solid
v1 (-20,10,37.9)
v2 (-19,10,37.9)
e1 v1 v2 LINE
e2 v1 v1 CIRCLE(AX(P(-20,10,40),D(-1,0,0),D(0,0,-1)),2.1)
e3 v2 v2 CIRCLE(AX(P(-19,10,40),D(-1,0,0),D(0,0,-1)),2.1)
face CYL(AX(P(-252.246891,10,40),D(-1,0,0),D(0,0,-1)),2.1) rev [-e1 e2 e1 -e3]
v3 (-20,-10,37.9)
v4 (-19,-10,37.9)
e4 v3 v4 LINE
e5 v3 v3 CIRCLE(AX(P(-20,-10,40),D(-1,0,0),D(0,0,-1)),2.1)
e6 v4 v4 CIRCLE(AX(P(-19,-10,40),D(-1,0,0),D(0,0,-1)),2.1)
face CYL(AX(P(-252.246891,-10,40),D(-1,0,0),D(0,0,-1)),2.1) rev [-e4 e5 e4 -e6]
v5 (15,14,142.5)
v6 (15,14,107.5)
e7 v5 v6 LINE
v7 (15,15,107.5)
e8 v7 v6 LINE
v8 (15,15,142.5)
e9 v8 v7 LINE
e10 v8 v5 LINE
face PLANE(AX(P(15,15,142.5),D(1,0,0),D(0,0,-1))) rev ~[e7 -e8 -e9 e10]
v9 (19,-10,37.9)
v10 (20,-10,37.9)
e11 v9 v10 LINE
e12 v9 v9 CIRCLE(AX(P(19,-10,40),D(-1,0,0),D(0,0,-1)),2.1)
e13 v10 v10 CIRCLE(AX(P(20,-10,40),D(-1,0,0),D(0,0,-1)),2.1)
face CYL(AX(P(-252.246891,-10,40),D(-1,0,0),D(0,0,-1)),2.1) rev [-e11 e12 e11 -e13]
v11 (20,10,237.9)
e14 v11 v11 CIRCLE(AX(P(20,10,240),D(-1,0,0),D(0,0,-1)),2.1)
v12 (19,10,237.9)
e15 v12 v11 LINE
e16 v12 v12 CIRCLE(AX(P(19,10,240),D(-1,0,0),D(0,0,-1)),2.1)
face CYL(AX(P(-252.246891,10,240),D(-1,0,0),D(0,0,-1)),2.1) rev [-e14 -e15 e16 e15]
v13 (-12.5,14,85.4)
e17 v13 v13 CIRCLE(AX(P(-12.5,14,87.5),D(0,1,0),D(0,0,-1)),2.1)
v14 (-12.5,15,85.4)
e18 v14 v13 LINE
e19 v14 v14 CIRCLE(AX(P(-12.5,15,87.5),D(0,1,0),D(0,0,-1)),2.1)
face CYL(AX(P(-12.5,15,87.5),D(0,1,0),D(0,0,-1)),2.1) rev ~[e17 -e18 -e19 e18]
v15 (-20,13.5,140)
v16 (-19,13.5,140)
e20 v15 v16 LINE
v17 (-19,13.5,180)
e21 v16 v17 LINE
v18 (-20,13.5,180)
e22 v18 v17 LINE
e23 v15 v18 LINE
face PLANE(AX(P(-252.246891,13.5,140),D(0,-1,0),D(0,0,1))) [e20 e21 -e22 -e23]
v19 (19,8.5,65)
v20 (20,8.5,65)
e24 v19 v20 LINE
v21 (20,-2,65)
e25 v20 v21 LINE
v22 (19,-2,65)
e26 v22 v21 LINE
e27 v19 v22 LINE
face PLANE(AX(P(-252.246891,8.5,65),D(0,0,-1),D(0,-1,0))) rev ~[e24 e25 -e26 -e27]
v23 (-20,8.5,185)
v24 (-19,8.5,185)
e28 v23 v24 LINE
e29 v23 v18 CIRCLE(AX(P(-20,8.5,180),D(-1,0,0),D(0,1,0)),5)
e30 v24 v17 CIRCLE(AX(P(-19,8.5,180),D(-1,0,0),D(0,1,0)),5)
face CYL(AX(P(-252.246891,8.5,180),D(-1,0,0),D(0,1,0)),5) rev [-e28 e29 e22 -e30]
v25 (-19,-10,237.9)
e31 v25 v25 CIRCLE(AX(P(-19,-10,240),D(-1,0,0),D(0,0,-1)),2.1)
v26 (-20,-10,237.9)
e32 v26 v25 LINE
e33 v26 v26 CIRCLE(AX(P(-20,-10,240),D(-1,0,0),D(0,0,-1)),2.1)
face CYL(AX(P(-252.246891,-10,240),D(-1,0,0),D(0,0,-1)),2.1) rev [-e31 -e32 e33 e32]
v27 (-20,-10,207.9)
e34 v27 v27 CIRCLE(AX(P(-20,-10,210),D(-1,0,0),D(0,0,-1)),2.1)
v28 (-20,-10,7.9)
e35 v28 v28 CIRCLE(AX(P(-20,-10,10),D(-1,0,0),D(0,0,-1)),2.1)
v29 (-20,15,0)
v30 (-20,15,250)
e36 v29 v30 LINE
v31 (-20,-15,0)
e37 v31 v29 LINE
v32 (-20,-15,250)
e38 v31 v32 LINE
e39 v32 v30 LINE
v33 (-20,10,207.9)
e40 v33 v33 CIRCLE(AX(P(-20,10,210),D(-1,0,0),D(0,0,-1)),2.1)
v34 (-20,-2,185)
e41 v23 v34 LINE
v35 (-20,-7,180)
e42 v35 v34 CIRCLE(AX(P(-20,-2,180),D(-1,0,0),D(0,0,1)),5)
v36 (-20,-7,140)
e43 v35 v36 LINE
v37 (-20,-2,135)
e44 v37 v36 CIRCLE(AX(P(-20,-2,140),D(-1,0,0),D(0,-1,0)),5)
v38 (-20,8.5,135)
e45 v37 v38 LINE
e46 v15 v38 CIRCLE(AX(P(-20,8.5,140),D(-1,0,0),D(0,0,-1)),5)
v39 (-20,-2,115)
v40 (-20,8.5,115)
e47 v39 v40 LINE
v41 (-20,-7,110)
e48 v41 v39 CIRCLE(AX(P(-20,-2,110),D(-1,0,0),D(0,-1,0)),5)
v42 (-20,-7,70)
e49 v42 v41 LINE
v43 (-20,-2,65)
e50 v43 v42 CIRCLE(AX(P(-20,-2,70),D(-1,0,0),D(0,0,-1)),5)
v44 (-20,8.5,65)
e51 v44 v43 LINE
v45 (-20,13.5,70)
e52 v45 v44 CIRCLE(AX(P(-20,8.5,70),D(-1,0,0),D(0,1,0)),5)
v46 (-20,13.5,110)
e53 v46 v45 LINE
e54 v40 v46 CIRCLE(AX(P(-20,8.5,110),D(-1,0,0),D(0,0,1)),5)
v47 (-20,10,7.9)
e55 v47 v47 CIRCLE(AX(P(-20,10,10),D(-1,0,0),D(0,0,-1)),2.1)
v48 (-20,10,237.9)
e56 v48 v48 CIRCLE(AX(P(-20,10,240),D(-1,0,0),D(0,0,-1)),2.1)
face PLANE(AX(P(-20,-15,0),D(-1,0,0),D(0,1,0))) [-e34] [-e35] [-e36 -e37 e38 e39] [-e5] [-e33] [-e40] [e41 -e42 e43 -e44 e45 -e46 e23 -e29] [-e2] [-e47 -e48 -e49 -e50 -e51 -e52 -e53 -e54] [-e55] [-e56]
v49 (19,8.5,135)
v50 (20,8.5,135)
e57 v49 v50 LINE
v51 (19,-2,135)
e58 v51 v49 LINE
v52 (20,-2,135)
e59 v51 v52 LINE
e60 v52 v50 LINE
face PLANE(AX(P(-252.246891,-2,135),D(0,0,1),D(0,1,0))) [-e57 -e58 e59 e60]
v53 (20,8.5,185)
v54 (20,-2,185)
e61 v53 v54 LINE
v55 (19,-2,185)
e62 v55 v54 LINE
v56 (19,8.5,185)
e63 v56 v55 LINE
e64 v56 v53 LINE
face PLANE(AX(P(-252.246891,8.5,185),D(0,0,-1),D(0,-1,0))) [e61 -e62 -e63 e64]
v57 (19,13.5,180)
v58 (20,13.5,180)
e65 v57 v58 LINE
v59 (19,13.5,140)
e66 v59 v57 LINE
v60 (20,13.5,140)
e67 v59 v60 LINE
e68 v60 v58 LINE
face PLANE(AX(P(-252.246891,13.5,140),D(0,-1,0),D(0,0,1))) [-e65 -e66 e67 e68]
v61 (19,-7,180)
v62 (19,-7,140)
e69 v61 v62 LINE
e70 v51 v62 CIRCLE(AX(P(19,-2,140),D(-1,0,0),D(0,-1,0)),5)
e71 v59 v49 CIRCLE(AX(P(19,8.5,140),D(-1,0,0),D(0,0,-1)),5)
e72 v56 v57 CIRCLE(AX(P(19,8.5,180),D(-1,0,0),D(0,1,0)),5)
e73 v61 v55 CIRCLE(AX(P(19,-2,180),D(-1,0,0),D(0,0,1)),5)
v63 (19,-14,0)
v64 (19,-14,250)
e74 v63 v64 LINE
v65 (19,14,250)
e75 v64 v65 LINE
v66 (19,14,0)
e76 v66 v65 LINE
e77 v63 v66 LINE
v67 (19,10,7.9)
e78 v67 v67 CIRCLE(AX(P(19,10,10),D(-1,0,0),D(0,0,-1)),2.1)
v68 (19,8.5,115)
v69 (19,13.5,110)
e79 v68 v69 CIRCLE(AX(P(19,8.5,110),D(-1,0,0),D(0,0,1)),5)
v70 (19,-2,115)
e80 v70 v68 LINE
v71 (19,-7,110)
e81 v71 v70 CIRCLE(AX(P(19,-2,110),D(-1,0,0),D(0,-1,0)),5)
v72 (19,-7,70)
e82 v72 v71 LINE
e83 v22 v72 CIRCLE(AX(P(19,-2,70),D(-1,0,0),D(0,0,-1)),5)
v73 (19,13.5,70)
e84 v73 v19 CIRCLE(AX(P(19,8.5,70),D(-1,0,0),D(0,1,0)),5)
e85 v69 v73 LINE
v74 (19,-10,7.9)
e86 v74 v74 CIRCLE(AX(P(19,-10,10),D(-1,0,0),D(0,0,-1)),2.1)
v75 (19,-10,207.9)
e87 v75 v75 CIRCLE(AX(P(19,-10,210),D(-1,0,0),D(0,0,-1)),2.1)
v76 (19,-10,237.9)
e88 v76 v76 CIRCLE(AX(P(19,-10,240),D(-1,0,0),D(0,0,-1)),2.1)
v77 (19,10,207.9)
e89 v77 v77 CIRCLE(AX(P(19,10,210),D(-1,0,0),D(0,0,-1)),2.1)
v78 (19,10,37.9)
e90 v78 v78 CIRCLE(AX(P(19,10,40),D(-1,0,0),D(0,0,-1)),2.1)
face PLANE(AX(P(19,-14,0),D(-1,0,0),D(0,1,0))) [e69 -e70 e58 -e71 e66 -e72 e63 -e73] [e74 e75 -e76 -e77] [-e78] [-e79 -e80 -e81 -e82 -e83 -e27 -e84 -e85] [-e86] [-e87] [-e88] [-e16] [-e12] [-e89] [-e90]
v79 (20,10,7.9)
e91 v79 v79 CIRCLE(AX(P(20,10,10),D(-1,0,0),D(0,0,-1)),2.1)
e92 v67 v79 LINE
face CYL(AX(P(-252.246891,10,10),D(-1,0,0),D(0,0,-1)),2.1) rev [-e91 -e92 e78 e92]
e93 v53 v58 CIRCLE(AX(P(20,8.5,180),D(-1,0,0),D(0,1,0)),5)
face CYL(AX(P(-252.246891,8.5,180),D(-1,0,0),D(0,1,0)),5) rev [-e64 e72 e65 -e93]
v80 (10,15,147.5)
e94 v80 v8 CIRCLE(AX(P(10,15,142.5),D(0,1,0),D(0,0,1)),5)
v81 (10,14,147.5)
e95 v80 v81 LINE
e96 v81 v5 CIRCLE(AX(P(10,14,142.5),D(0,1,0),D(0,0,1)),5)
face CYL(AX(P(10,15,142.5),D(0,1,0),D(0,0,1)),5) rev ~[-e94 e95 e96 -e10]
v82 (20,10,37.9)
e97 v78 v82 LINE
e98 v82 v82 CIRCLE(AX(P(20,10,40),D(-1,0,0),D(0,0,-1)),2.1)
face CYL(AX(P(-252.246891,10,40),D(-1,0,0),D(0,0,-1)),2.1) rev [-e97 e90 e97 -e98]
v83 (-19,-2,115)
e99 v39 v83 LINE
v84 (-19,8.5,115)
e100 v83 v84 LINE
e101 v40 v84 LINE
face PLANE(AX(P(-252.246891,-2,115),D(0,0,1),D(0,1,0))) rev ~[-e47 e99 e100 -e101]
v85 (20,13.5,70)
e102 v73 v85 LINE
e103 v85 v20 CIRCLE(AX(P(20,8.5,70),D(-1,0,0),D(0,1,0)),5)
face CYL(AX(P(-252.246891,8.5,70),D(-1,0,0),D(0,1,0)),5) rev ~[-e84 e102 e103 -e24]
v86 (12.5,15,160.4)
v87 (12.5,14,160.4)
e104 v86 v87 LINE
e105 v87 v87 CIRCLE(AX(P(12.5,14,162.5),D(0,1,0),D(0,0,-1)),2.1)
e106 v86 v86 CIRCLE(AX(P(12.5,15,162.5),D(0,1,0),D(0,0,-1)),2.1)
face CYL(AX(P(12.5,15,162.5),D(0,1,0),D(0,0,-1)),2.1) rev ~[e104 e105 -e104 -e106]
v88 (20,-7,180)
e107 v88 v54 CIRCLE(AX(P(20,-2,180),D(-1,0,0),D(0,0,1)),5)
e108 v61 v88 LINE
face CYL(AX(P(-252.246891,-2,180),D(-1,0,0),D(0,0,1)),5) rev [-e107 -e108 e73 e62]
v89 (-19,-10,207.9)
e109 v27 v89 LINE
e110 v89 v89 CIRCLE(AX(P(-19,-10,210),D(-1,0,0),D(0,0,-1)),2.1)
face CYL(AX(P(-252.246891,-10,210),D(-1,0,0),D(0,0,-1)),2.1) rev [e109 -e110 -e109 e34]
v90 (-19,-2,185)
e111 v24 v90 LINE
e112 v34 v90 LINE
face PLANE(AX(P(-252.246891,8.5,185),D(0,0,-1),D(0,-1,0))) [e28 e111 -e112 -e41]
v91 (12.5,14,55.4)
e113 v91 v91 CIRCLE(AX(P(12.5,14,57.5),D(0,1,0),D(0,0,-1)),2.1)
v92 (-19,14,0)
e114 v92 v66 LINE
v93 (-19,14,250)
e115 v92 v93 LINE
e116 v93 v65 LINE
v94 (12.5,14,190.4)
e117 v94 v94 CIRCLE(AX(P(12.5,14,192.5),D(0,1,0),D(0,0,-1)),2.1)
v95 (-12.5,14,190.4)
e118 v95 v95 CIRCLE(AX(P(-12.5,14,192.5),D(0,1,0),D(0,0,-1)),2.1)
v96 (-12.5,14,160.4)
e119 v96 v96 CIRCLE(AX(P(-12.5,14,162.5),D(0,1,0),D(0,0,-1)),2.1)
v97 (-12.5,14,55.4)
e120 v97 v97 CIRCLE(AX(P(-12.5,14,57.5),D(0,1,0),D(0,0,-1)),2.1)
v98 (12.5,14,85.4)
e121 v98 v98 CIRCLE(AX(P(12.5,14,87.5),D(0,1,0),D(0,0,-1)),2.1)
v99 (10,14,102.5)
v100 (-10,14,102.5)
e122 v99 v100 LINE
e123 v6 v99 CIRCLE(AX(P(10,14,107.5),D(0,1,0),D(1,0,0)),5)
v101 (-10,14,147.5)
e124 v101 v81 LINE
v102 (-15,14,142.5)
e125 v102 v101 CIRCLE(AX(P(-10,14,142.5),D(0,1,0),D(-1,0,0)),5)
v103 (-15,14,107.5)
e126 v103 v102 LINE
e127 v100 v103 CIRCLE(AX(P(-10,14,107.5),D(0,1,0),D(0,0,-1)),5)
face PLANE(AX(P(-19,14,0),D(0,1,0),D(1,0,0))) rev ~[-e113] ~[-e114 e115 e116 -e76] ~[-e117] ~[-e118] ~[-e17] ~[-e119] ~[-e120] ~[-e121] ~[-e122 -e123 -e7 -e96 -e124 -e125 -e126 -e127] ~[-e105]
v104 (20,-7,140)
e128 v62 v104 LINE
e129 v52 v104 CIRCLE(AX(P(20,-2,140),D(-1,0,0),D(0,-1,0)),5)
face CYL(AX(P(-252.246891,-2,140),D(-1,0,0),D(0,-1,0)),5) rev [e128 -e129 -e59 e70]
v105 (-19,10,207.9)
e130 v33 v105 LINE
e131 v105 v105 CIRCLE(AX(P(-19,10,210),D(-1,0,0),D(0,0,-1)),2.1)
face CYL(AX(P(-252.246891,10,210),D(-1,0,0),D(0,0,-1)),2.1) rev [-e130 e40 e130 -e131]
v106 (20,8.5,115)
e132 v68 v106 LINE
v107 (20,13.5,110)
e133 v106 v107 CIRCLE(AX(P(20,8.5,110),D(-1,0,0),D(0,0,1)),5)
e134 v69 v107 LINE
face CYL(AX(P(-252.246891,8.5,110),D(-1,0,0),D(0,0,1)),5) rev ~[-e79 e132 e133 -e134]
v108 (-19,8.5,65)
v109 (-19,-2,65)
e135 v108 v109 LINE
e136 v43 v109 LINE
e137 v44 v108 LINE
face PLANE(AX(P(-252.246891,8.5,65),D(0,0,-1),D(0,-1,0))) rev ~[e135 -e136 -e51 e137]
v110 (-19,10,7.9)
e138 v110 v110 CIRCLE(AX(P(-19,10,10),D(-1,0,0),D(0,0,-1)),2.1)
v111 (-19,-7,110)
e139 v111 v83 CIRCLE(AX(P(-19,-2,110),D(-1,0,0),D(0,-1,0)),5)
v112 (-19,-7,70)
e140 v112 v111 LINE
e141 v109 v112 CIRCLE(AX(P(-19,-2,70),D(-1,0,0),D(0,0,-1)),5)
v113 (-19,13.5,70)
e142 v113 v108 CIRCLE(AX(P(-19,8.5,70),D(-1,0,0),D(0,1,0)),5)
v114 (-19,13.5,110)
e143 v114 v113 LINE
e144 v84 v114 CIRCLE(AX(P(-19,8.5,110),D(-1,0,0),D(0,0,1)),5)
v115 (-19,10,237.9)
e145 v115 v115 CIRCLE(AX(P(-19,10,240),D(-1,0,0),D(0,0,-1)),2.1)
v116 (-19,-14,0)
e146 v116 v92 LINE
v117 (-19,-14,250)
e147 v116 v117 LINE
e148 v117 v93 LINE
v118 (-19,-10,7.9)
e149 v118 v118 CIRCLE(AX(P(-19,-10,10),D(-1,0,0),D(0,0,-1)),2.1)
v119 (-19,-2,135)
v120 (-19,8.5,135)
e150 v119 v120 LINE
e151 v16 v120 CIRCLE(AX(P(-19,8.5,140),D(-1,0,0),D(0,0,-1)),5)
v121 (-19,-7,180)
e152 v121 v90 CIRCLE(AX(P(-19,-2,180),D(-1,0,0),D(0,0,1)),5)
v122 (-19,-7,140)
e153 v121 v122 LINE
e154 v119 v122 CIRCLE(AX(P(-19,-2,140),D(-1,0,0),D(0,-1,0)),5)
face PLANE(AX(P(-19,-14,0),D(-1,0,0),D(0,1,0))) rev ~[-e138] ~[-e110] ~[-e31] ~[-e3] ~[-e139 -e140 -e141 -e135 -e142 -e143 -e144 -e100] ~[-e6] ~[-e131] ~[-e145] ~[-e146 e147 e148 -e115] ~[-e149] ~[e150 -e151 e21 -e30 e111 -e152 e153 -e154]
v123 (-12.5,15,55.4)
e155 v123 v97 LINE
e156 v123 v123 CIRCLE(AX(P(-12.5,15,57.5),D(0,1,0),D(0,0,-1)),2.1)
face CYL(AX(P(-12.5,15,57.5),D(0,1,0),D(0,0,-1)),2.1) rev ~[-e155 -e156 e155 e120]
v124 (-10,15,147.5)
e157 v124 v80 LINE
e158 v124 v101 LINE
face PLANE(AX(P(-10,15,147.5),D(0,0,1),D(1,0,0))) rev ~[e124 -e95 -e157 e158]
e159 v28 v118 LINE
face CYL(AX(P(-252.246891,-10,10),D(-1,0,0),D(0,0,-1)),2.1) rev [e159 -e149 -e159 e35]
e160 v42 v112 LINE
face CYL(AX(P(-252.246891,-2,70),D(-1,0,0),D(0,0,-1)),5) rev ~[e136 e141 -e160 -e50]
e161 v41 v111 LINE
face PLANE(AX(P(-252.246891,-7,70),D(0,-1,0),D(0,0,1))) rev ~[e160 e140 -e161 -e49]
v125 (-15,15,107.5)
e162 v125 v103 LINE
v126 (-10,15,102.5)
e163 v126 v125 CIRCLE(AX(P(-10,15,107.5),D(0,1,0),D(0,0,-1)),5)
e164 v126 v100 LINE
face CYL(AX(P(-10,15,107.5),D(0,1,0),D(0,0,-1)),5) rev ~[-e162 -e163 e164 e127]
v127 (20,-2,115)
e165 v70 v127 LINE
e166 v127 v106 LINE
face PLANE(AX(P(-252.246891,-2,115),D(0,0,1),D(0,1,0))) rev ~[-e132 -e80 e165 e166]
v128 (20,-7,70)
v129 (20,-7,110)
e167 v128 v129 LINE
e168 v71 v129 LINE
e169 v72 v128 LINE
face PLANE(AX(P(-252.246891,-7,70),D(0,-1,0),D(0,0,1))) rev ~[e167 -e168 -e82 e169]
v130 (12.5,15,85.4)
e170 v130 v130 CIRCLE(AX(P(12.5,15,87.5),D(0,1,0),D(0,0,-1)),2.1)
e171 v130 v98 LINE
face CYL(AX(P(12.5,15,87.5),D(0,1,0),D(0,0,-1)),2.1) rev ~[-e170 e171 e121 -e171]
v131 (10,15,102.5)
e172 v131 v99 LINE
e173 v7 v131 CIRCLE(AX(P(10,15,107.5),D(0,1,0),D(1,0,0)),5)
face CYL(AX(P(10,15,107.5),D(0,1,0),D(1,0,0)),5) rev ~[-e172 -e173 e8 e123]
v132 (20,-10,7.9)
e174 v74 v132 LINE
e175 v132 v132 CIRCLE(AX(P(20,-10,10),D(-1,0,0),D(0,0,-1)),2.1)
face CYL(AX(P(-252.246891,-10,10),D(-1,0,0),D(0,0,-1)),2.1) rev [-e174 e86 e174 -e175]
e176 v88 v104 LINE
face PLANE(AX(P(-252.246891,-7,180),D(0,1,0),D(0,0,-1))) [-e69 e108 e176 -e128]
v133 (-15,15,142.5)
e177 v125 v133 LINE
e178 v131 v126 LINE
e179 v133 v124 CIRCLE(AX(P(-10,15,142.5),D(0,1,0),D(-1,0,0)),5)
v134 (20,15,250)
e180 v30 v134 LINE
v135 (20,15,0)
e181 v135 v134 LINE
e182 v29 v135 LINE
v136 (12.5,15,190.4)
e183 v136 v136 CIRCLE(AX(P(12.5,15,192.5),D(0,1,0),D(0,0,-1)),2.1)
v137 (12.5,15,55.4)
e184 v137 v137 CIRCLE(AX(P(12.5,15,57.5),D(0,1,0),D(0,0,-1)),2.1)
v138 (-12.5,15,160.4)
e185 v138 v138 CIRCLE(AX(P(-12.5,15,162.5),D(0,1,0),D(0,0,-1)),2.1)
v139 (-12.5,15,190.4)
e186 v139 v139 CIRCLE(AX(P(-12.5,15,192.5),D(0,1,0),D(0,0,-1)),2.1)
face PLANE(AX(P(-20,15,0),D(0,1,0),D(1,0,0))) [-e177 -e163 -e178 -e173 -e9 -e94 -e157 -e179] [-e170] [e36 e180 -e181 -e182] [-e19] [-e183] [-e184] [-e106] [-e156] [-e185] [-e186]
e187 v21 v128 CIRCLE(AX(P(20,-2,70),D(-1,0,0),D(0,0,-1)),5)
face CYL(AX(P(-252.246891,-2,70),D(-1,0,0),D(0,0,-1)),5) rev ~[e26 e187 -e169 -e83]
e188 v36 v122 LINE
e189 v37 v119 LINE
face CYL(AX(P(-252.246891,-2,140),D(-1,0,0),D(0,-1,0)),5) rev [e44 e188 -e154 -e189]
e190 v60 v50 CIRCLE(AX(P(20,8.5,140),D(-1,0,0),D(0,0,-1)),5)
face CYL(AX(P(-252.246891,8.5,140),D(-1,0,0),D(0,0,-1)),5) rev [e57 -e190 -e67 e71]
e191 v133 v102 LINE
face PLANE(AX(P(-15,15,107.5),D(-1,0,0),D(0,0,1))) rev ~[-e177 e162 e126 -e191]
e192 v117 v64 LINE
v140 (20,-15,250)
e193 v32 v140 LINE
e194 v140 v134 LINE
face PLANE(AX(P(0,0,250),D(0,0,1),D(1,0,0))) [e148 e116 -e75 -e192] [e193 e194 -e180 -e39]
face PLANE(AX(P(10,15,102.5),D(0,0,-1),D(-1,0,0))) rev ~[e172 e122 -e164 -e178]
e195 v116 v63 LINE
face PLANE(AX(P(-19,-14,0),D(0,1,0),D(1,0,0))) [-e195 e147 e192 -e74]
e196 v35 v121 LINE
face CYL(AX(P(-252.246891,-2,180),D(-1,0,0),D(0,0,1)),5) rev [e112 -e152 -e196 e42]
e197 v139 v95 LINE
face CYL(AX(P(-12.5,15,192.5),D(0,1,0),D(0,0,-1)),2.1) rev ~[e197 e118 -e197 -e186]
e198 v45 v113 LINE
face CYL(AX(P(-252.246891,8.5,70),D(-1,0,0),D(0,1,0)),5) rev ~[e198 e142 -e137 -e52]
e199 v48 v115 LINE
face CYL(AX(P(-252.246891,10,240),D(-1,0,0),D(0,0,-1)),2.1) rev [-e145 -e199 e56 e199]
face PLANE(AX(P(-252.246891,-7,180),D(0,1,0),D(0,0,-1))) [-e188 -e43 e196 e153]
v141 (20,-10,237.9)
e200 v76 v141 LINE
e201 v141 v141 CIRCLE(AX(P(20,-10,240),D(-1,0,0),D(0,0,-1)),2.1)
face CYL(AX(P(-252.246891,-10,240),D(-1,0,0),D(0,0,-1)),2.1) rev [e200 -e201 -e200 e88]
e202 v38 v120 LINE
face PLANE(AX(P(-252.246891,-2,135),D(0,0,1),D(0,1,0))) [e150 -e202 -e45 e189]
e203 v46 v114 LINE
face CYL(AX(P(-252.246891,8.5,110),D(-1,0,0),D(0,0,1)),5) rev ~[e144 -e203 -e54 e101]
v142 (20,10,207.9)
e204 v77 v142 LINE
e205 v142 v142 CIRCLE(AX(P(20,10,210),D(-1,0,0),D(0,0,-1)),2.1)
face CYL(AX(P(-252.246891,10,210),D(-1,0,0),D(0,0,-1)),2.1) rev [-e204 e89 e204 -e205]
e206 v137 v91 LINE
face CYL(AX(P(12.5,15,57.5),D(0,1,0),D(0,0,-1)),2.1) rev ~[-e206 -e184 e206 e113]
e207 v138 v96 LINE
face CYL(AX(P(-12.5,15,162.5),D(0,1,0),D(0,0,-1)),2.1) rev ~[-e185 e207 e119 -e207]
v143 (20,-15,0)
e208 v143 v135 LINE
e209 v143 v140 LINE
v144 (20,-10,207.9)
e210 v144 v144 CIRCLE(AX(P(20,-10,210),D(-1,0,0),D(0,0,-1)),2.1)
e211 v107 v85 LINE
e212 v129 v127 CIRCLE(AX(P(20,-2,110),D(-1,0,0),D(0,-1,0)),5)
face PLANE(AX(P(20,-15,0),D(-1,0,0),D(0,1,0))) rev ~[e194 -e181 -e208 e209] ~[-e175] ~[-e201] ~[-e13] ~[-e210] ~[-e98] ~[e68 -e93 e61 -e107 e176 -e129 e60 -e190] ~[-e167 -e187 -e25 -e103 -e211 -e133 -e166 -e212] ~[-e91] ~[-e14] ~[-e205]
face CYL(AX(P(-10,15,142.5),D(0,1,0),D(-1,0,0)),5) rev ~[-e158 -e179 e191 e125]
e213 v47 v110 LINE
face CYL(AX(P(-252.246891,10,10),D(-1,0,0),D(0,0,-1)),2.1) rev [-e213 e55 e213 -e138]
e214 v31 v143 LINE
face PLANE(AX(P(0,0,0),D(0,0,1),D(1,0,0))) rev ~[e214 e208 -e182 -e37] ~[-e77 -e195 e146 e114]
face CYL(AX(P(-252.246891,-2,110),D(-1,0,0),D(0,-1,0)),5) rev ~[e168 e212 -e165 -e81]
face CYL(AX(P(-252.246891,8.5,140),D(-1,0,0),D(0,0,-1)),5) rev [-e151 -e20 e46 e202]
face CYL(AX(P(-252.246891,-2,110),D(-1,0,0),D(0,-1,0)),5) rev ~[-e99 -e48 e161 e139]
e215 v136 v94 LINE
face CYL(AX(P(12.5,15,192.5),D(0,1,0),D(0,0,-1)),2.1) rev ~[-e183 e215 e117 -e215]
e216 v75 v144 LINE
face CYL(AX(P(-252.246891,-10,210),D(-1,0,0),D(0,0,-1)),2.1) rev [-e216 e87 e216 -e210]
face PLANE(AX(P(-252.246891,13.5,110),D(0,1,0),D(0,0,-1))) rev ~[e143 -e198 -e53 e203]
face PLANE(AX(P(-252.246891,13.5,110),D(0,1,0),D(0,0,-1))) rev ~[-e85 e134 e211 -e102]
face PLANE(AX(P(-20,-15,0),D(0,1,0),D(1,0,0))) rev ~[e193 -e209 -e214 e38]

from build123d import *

# Parameters (mm, degrees)
SKETCH_1_W               = 40
SKETCH_1_H               = 30
SKETCH_1_W_2             = 38
SKETCH_1_H_2             = 28
EXTRUDE_1_DEPTH          = 250
CUT_EXTRUDE_1_DEPTH      = 252.246890528
CUT_EXTRUDE_1_DEPTH_BACK = 252.246890528
SKETCH_2_R               = 2.1
CUT_EXTRUDE_START        = 15
SKETCH_3_R               = 2.1
CUT_EXTRUDE_2_DEPTH      = 29
CUT_EXTRUDE_3_DEPTH      = 252.246890528
CUT_EXTRUDE_3_DEPTH_BACK = 252.246890528


with BuildPart() as part:
    # 草图1 → 凸台-拉伸1 (new body)
    with BuildSketch(Plane.XY):
        Rectangle(SKETCH_1_W, SKETCH_1_H)
        Rectangle(SKETCH_1_W_2, SKETCH_1_H_2, mode=Mode.SUBTRACT)
    extrude(amount=EXTRUDE_1_DEPTH)

    # 草图2 → 切除-拉伸1 (cut, two sides: drawn at the far end of the back side and taken through both)
    with BuildSketch(Plane(origin=(0, 0, 0), x_dir=(0, 0, -1), z_dir=(1, 0, 0)).offset(-CUT_EXTRUDE_1_DEPTH_BACK)):
        with Locations((-210, 10)):
            Circle(SKETCH_2_R)
        with Locations((-240, 10)):
            Circle(SKETCH_2_R)
        with Locations((-210, -10)):
            Circle(SKETCH_2_R)
        with Locations((-240, -10)):
            Circle(SKETCH_2_R)
        with Locations((-10, -10)):
            Circle(SKETCH_2_R)
        with Locations((-40, -10)):
            Circle(SKETCH_2_R)
        with Locations((-10, 10)):
            Circle(SKETCH_2_R)
        with Locations((-40, 10)):
            Circle(SKETCH_2_R)
    extrude(amount=CUT_EXTRUDE_1_DEPTH + CUT_EXTRUDE_1_DEPTH_BACK, mode=Mode.SUBTRACT)

    # 草图3 → 切除-拉伸2 (cut)
    with BuildSketch(Plane(origin=(0, 0, 0), x_dir=(1, 0, 0), z_dir=(0, 1, 0)).offset(CUT_EXTRUDE_START)):
        with Locations(Location((-12.5, -87.5, 0), (0, 0, 90))):
            Circle(SKETCH_3_R)
        with Locations(Location((12.5, -87.5, 0), (0, 0, 90))):
            Circle(SKETCH_3_R)
        with Locations(Location((-12.5, -57.5, 0), (0, 0, 90))):
            Circle(SKETCH_3_R)
        with Locations(Location((12.5, -57.5, 0), (0, 0, 90))):
            Circle(SKETCH_3_R)
        with Locations(Location((12.5, -192.5, 0), (0, 0, 90))):
            Circle(SKETCH_3_R)
        with Locations(Location((-12.5, -192.5, 0), (0, 0, 90))):
            Circle(SKETCH_3_R)
        with Locations(Location((12.5, -162.5, 0), (0, 0, 90))):
            Circle(SKETCH_3_R)
        with Locations(Location((-12.5, -162.5, 0), (0, 0, 90))):
            Circle(SKETCH_3_R)
        with BuildLine():
            Line((-10, -147.5), (10, -147.5))
            ThreePointArc((10, -147.5), (13.535533906, -146.035533906), (15, -142.5))
            Line((15, -142.5), (15, -107.5))
            ThreePointArc((15, -107.5), (13.535533906, -103.964466094), (10, -102.5))
            Line((10, -102.5), (-10, -102.5))
            ThreePointArc((-10, -102.5), (-13.535533906, -103.964466094), (-15, -107.5))
            Line((-15, -107.5), (-15, -142.5))
            ThreePointArc((-15, -142.5), (-13.535533906, -146.035533906), (-10, -147.5))
        make_face()
    extrude(amount=-CUT_EXTRUDE_2_DEPTH, mode=Mode.SUBTRACT)

    # 草图4 → 切除-拉伸3 (cut, two sides: drawn at the far end of the back side and taken through both)
    with BuildSketch(Plane(origin=(0, 0, 0), x_dir=(0, 0, -1), z_dir=(1, 0, 0)).offset(-CUT_EXTRUDE_3_DEPTH_BACK)):
        with BuildLine():
            Line((-180, -7), (-140, -7))
            ThreePointArc((-140, -7), (-136.464466094, -5.535533906), (-135, -2))
            Line((-135, -2), (-135, 8.5))
            ThreePointArc((-135, 8.5), (-136.464466094, 12.035533906), (-140, 13.5))
            Line((-140, 13.5), (-180, 13.5))
            ThreePointArc((-180, 13.5), (-183.535533906, 12.035533906), (-185, 8.5))
            Line((-185, 8.5), (-185, -2))
            ThreePointArc((-185, -2), (-183.535533906, -5.535533906), (-180, -7))
        make_face()
        with BuildLine():
            Line((-115, -2), (-115, 8.5))
            ThreePointArc((-115, 8.5), (-113.535533906, 12.035533906), (-110, 13.5))
            Line((-110, 13.5), (-70, 13.5))
            ThreePointArc((-70, 13.5), (-66.464466094, 12.035533906), (-65, 8.5))
            Line((-65, 8.5), (-65, -2))
            ThreePointArc((-65, -2), (-66.464466094, -5.535533906), (-70, -7))
            Line((-70, -7), (-110, -7))
            ThreePointArc((-110, -7), (-113.535533906, -5.535533906), (-115, -2))
        make_face()
    extrude(amount=CUT_EXTRUDE_3_DEPTH + CUT_EXTRUDE_3_DEPTH_BACK, mode=Mode.SUBTRACT)


solid = part.part
